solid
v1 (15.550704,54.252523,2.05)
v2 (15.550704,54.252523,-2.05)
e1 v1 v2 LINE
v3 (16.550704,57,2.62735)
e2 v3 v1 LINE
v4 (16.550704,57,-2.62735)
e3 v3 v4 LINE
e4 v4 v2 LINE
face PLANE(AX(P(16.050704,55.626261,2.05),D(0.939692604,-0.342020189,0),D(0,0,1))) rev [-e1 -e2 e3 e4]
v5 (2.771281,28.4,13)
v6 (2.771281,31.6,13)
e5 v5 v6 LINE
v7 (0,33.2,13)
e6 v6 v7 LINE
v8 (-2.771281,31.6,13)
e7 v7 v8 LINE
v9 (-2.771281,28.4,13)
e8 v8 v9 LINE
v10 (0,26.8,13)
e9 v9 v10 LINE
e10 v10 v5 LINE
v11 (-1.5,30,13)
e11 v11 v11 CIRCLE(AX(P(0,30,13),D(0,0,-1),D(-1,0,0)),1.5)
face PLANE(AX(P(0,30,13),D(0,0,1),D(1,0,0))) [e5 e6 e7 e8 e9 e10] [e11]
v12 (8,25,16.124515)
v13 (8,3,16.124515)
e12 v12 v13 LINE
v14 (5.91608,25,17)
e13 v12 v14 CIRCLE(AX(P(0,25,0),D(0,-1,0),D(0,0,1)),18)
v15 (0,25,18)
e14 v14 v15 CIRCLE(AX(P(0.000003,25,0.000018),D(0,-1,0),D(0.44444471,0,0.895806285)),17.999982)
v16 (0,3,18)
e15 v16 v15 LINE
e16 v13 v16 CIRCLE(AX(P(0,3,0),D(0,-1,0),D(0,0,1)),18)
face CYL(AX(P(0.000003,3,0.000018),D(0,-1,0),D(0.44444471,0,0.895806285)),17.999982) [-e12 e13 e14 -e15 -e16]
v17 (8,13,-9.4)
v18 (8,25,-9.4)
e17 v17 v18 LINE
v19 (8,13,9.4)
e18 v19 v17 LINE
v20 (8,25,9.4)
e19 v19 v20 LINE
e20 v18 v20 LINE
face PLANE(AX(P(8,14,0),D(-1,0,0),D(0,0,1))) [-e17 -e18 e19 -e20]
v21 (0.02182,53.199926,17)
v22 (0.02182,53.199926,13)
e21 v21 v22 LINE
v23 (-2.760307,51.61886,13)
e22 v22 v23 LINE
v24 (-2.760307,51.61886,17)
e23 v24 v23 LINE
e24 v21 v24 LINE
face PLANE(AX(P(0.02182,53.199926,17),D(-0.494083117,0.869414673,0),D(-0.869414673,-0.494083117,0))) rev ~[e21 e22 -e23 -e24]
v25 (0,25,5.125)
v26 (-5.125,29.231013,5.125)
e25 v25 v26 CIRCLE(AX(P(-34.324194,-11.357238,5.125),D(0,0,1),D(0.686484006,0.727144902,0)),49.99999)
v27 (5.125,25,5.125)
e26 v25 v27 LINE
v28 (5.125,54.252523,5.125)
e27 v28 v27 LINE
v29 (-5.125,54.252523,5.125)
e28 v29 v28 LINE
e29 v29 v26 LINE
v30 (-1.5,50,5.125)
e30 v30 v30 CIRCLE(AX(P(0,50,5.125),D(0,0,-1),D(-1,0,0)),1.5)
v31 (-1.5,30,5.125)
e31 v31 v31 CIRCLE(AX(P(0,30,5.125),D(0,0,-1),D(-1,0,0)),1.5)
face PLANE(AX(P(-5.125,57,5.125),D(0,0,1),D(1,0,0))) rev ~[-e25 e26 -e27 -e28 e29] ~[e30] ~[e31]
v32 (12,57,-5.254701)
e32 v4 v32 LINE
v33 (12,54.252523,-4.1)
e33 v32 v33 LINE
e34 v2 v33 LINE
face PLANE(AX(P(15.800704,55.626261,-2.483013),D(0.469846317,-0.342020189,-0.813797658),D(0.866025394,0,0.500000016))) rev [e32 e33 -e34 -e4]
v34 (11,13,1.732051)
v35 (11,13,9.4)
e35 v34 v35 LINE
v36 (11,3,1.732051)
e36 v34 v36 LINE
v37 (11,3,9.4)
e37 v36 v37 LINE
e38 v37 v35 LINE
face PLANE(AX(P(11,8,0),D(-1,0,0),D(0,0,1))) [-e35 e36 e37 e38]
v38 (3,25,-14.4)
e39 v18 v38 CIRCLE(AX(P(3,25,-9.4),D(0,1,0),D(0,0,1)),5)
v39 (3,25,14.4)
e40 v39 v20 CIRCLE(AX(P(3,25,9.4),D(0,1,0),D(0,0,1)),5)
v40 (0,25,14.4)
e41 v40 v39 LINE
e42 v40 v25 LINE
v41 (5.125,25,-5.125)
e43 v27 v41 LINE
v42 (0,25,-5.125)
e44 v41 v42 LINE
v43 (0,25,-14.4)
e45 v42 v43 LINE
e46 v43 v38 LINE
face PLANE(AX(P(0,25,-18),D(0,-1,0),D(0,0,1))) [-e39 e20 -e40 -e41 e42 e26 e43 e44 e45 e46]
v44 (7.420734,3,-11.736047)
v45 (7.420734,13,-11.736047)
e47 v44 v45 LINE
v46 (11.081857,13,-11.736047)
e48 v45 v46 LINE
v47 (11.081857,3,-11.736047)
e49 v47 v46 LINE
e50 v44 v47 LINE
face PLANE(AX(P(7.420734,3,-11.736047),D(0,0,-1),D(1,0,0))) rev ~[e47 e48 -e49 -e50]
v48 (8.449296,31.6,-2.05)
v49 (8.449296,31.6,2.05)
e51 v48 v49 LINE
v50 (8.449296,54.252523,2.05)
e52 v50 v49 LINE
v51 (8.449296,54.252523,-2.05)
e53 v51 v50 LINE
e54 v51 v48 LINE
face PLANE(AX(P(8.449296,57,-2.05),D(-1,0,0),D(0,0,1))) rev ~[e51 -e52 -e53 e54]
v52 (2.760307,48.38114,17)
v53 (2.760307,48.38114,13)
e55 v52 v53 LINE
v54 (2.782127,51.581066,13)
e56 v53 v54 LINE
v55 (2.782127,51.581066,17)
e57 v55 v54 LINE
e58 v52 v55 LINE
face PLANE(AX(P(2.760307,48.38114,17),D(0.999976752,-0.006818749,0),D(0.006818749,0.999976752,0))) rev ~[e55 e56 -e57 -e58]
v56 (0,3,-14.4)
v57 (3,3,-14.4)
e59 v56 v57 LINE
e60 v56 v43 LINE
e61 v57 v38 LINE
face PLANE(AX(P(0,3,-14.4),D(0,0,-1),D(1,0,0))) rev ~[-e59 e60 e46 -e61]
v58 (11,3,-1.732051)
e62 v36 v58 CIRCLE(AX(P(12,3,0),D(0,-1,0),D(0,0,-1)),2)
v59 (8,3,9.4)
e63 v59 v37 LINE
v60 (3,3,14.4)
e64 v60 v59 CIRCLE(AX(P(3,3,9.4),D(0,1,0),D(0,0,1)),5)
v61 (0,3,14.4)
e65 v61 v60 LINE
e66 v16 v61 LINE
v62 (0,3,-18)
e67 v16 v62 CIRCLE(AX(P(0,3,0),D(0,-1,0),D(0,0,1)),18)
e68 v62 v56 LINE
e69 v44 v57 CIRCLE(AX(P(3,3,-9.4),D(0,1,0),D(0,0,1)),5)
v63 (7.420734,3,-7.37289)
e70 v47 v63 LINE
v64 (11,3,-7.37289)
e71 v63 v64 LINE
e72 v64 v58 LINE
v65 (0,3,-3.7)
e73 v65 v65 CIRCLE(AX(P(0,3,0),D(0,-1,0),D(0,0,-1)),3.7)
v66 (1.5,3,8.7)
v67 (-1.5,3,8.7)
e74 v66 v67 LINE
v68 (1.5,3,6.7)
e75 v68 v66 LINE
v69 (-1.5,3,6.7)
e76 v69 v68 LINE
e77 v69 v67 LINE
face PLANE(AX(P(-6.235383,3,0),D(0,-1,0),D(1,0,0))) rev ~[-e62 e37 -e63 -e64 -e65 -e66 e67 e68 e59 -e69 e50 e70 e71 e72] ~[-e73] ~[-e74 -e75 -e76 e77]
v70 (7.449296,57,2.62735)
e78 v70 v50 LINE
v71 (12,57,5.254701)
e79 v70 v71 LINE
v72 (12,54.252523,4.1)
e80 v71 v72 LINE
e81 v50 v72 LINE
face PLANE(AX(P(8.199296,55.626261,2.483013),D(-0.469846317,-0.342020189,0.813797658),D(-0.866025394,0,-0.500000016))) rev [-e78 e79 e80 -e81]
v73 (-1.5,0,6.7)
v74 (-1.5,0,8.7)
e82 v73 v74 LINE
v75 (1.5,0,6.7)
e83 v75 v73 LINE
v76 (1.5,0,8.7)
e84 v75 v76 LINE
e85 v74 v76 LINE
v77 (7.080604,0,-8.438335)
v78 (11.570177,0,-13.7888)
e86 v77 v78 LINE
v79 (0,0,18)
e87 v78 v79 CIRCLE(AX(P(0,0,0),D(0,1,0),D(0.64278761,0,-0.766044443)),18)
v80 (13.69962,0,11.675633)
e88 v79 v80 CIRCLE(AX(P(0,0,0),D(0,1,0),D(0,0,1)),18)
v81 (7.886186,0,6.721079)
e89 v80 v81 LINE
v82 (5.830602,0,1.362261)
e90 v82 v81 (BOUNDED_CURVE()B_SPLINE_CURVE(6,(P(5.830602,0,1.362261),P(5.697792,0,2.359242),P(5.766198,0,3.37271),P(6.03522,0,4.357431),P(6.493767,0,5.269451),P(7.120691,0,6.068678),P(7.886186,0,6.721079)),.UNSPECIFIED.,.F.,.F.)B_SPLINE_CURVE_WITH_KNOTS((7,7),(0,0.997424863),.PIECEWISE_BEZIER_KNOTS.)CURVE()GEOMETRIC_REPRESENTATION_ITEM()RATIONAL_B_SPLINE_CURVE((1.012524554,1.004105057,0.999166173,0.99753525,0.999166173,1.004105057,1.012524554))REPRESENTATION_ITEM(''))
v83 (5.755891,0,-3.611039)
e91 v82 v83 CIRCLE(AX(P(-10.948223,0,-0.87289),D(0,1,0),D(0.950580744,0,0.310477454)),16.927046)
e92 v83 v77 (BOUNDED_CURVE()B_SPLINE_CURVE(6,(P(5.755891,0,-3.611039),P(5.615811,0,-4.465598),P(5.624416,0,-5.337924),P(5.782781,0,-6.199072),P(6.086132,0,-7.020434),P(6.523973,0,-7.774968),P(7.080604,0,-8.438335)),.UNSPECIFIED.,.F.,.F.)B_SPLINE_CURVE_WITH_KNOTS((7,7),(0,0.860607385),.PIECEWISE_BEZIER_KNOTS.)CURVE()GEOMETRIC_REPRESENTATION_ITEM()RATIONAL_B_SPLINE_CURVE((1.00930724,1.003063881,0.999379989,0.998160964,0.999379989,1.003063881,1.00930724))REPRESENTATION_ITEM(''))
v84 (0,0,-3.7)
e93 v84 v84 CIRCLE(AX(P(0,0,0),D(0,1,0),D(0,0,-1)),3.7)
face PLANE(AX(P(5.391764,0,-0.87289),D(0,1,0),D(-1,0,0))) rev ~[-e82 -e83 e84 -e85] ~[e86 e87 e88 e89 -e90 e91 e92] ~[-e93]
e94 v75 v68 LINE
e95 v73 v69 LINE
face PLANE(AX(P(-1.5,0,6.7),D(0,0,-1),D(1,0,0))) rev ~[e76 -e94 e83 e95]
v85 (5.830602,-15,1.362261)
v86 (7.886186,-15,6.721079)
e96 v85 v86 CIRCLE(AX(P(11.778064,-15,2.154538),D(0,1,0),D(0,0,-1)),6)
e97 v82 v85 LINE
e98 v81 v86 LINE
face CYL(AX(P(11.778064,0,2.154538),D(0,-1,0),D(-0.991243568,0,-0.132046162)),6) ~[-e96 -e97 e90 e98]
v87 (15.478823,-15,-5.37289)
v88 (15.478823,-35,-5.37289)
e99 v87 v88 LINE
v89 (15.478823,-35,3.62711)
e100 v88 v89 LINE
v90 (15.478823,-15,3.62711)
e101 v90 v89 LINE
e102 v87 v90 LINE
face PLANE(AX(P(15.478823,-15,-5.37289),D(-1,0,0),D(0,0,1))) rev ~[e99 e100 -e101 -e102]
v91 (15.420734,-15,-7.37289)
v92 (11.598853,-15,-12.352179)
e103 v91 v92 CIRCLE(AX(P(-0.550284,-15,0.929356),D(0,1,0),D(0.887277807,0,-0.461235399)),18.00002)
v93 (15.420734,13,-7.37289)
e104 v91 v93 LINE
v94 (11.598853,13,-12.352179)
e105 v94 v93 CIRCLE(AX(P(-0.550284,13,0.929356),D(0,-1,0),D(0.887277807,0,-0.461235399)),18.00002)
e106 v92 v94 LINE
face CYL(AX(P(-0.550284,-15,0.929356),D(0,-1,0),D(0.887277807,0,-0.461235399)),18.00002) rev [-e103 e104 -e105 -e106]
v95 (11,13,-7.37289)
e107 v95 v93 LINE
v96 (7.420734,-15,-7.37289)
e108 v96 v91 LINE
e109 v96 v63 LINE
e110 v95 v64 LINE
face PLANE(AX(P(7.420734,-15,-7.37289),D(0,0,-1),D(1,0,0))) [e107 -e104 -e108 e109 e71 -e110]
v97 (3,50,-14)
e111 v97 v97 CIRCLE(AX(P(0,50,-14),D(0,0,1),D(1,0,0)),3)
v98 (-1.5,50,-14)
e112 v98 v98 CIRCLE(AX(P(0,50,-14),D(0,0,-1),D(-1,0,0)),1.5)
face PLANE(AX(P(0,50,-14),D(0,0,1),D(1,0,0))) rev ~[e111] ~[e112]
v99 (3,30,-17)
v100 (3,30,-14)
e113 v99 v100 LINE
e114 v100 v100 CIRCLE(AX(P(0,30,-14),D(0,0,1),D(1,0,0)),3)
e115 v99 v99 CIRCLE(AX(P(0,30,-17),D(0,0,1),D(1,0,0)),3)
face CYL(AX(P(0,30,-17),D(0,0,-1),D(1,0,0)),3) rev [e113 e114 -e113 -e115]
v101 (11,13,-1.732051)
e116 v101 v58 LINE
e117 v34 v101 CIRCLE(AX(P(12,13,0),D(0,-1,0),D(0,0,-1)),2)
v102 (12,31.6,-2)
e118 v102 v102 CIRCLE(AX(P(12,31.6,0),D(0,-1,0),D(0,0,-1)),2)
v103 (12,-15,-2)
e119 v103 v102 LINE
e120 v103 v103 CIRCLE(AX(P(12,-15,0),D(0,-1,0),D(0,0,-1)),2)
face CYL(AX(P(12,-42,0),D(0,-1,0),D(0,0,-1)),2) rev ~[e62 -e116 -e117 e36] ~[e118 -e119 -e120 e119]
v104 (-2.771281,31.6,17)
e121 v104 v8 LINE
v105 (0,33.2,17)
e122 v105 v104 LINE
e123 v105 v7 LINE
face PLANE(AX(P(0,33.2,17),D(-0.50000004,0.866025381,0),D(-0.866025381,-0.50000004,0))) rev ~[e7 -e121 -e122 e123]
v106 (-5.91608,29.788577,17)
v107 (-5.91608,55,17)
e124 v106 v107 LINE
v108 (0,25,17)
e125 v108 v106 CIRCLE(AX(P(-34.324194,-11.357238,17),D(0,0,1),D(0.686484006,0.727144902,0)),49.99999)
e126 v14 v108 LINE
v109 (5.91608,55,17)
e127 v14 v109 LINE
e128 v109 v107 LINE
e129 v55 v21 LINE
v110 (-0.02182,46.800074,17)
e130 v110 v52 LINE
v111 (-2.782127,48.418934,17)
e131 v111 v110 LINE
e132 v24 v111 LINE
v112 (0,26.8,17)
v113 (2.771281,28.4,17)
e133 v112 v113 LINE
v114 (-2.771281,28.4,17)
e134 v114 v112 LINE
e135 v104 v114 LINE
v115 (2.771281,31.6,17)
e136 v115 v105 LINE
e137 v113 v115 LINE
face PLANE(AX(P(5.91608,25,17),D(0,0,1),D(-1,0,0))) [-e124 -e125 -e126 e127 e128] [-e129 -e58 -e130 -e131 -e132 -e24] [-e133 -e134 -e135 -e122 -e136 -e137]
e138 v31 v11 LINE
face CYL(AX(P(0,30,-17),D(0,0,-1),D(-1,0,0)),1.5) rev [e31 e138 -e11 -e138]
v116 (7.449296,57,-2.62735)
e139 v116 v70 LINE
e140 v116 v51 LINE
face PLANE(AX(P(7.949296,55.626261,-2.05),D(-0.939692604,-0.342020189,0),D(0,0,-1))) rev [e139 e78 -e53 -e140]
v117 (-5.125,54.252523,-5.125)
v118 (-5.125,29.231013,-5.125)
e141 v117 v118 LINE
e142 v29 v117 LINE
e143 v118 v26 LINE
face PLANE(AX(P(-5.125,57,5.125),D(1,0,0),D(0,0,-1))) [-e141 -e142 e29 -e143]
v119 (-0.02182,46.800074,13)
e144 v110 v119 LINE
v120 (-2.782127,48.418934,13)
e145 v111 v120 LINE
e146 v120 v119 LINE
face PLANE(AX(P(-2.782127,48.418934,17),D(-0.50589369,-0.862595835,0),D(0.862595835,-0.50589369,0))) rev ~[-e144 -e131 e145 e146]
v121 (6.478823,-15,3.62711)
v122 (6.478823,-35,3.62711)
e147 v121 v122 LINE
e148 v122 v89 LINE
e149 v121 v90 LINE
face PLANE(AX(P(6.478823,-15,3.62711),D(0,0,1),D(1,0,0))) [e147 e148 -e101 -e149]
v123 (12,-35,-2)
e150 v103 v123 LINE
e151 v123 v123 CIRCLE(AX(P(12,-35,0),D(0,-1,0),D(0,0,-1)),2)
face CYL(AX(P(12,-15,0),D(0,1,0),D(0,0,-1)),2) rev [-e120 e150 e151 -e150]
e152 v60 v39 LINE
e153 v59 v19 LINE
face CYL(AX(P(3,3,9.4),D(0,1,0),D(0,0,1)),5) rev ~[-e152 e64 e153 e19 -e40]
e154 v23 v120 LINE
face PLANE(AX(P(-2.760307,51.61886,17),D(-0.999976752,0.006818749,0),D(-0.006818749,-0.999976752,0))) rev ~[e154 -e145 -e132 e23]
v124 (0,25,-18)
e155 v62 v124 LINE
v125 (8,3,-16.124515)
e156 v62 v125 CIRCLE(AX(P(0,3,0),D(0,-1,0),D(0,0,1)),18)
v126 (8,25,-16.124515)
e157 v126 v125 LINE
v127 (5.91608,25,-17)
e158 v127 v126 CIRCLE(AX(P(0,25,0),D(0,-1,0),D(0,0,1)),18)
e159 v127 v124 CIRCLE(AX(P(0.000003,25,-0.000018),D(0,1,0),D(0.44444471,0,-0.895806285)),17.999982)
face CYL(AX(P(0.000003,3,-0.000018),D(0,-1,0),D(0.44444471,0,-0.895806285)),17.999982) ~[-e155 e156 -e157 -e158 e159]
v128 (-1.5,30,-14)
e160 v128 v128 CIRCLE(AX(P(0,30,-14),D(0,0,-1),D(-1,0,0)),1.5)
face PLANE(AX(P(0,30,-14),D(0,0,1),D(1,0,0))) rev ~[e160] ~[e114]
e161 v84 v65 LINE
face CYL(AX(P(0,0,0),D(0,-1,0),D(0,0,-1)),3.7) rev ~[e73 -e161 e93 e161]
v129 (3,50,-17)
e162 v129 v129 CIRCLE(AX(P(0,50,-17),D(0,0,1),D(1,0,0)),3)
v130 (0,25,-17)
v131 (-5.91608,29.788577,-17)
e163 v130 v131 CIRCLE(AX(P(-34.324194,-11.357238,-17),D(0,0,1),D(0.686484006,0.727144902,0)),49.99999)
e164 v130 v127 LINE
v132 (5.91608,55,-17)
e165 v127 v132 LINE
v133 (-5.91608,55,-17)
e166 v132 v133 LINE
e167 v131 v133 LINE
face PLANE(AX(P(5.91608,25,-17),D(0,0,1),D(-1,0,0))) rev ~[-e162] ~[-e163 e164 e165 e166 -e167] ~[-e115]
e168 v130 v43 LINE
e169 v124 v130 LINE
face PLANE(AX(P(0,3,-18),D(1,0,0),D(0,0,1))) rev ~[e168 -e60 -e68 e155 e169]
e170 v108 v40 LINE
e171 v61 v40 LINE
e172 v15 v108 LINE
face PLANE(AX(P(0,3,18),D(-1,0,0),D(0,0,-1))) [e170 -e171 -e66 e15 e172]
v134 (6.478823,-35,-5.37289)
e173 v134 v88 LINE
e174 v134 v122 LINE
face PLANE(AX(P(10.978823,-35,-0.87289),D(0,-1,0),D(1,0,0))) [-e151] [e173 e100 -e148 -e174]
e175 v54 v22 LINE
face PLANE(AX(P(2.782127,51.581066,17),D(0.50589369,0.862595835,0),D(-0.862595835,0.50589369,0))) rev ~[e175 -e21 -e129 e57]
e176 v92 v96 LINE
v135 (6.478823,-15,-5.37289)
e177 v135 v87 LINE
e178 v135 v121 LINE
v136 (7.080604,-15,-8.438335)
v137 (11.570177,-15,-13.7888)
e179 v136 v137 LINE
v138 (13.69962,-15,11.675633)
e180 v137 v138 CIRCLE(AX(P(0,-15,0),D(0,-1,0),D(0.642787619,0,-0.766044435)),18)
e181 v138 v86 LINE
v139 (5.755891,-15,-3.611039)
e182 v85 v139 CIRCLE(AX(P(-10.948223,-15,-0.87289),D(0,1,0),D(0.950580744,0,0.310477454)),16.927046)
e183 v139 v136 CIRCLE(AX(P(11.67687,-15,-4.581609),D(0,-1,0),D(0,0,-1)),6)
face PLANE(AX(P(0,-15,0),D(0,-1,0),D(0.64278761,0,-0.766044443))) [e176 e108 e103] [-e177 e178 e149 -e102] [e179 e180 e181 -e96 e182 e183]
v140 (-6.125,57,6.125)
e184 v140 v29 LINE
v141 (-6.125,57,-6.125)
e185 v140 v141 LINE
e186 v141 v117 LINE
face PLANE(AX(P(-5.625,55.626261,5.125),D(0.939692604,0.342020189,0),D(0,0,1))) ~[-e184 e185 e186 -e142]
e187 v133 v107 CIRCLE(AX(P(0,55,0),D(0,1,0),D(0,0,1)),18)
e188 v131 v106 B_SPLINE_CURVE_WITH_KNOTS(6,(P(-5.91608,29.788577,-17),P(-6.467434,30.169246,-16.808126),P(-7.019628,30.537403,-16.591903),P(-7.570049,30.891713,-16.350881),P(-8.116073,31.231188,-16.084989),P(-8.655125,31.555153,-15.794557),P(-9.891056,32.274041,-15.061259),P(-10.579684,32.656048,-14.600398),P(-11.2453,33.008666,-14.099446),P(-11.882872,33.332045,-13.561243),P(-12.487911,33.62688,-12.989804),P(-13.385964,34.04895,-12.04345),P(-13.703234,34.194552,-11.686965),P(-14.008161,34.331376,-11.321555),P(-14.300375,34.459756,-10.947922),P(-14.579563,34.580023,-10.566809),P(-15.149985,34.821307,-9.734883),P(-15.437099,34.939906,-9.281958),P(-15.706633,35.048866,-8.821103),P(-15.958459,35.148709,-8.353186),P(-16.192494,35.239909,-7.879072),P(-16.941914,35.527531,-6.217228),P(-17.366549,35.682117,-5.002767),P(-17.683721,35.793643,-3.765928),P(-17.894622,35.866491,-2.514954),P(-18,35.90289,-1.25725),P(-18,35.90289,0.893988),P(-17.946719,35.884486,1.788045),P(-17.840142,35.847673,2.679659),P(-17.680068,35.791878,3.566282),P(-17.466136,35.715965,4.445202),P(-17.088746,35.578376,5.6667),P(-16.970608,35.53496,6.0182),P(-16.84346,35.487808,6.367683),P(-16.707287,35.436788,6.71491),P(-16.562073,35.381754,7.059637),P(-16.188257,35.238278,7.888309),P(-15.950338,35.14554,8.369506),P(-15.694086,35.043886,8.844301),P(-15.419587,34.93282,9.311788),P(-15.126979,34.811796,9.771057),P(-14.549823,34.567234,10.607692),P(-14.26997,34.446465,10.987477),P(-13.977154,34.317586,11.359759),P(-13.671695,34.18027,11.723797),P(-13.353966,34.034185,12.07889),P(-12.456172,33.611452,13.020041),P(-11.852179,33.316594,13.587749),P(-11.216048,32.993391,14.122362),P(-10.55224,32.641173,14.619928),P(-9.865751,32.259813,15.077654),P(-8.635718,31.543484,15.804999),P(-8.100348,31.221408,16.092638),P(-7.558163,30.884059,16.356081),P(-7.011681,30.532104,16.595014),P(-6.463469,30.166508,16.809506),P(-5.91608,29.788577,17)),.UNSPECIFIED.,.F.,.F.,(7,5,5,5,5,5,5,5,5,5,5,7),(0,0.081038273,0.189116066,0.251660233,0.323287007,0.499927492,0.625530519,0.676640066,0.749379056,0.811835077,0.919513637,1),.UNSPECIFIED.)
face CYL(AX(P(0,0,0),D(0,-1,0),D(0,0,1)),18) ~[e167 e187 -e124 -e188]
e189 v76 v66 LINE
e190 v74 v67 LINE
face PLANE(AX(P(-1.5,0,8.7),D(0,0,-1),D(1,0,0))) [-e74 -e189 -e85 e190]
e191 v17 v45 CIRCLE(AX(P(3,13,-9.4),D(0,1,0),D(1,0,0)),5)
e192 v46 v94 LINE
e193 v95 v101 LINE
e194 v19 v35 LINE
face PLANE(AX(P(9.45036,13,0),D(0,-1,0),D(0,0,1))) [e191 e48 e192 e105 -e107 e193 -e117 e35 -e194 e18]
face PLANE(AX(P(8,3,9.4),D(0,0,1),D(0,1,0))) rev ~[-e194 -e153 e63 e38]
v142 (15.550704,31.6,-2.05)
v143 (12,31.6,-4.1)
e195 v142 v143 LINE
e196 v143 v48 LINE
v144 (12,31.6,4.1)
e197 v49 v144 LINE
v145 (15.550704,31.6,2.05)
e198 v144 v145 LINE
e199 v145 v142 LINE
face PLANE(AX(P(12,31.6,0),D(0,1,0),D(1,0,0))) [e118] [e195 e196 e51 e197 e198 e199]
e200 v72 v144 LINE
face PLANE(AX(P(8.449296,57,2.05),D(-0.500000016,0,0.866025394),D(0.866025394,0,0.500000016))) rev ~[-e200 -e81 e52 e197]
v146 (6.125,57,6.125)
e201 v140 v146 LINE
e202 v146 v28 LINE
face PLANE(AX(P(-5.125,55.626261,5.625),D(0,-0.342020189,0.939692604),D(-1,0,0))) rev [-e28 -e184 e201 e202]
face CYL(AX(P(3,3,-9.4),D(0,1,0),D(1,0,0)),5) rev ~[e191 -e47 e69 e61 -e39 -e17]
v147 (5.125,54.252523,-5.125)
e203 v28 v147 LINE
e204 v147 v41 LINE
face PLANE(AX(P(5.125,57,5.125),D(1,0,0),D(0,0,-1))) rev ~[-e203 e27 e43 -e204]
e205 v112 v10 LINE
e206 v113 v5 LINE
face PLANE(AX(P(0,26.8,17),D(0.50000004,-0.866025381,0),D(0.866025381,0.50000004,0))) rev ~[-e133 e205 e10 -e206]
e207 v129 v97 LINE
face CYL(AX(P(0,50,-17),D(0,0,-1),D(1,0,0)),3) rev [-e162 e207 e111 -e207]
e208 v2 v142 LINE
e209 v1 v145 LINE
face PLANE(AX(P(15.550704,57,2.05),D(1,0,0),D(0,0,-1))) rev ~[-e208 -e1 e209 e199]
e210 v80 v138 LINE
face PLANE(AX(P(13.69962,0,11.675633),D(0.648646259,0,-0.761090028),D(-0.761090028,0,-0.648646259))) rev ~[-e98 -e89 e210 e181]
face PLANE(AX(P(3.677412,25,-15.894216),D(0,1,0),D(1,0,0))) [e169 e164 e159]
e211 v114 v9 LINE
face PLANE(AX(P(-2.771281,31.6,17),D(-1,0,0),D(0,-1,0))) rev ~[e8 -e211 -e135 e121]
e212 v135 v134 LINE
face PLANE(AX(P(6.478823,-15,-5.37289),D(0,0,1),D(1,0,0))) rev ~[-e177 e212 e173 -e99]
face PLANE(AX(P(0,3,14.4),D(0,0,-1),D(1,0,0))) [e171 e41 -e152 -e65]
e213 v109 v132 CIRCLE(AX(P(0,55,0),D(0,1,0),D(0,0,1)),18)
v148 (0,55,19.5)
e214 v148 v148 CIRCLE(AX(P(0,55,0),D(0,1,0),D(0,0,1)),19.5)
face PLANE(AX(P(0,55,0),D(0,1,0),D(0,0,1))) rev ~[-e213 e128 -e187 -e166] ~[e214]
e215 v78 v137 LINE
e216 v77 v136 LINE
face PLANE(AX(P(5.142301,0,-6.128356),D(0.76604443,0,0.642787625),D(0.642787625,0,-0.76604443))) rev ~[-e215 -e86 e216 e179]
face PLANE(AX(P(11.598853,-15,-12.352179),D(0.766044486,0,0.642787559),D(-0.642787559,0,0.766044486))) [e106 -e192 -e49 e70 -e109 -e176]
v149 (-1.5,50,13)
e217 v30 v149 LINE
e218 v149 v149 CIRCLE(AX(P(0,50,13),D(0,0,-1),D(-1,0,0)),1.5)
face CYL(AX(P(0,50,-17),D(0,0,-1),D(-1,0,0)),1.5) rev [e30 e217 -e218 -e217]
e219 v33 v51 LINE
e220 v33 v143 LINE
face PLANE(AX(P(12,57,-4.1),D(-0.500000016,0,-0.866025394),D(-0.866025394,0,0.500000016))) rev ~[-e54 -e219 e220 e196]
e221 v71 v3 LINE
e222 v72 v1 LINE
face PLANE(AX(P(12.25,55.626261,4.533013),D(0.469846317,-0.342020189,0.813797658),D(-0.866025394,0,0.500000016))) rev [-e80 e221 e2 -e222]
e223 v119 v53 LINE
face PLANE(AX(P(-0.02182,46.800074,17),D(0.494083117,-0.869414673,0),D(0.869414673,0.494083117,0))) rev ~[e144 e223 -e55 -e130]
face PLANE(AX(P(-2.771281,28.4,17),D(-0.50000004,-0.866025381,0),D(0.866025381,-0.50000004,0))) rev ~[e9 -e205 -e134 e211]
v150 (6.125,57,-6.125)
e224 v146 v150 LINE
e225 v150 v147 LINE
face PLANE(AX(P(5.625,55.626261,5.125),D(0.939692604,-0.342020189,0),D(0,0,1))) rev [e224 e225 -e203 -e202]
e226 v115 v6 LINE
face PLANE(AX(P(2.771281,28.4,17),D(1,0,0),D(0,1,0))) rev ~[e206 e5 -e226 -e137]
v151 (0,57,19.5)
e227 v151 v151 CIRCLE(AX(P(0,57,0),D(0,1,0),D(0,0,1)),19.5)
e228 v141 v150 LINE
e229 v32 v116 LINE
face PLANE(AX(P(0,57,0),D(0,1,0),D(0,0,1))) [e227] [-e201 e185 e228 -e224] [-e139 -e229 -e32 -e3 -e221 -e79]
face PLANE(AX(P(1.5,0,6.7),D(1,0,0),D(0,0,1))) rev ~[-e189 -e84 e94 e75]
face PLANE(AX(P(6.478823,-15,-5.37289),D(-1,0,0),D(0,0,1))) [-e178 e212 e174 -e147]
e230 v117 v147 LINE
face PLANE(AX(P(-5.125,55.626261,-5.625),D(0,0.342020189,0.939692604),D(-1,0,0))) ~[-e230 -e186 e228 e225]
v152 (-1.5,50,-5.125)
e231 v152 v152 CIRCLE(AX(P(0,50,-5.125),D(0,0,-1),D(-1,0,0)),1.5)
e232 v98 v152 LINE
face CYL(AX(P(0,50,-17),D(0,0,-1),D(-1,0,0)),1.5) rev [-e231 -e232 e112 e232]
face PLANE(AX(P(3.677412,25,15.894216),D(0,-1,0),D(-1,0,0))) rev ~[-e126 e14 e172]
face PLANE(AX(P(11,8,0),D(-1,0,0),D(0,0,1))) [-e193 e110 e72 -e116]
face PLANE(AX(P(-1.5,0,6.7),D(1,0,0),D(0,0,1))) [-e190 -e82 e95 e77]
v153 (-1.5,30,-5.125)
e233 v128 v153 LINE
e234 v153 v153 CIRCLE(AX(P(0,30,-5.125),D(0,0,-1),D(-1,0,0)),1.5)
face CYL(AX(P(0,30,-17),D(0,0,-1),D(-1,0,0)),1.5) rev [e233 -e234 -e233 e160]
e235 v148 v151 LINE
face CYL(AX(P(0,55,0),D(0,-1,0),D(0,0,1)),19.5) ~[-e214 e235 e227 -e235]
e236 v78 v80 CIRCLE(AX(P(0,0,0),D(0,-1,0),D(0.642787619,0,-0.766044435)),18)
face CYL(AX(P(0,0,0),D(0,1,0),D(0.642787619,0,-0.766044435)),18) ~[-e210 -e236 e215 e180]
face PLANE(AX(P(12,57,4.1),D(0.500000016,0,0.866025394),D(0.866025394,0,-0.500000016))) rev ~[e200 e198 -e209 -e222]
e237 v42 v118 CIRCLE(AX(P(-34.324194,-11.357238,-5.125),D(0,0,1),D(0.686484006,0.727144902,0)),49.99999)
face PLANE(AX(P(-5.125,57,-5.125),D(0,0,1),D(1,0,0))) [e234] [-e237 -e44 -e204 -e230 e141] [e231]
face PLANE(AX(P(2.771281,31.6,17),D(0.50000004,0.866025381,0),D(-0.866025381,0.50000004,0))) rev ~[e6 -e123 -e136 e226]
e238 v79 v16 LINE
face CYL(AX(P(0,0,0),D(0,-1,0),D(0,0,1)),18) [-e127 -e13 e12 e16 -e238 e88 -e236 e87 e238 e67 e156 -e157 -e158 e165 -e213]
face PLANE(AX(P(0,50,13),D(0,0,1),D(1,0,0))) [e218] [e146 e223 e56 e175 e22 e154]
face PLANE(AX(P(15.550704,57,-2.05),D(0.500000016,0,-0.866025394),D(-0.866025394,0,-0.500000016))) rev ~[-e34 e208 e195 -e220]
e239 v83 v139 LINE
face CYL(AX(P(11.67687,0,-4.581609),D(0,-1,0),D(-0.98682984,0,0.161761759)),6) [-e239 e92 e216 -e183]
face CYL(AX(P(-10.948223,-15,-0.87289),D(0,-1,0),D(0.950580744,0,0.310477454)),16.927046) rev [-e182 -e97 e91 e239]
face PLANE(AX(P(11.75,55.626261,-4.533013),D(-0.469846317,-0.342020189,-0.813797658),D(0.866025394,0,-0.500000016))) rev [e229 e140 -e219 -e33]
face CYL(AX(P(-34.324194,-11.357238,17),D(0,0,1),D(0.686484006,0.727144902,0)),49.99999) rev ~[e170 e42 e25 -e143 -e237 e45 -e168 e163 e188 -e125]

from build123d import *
from build123d.topology import SkipClean

# Parameters (mm, degrees)
SKETCH_1_R          = 18
EXTRUDE_1_DEPTH     = 55
SKETCH_2_R          = 19.5
EXTRUDE_2_DEPTH     = 2
SKETCH_3_W          = 10.25
SKETCH_3_H          = 10.25
CUT_EXTRUDE_1_DEPTH = 40
EXTRUDE_3_DEPTH     = 15
SKETCH1_R           = 18
BOSS_EXTRUDE1_DEPTH = 20
SKETCH3_R           = 18
BOSS_EXTRUDE2_DEPTH = 7
SKETCH4_W           = 10.2
SKETCH4_H           = 10.2
CUT_EXTRUDE2_DEPTH  = 27
CUT_EXTRUDE4_DEPTH  = 25
BOSS_EXTRUDE3_DEPTH = 3
SKETCH9_W           = 36
SKETCH9_H           = 22
CUT_EXTRUDE5_DEPTH  = 8
SKETCH10_R          = 3.7
SKETCH10_W          = 3
SKETCH10_H          = 2
CUT_EXTRUDE6_DEPTH  = 10
SKETCH11_R          = 2
CUT_EXTRUDE7_DEPTH  = 102
SKETCH15_R          = 18
CUT_EXTRUDE9_DEPTH  = 27
CUT_EXTRUDE11_DEPTH = 30
SKETCH18_R          = 1.5
CUT_EXTRUDE12_DEPTH = 71.437916
SKETCH19_R          = 3
CUT_EXTRUDE13_DEPTH = 3
BOSS_EXTRUDE5_DEPTH = 22
CUT_EXTRUDE16_DEPTH = 4
CUT_EXTRUDE17_DEPTH = 25.4
CUT_EXTRUDE18_DEPTH = 71.437916
FILLET2_R           = 5
SKETCH30_W          = 18.8
SKETCH30_H          = 10
CUT_EXTRUDE20_DEPTH = 3
CHAMFER1_SIZE       = 1
CHAMFER1_SIZE2      = 2.747477
CHAMFER2_SIZE       = 1
CHAMFER2_SIZE2      = 2.747477
SKETCH37_W          = 9
SKETCH37_H          = 9
SKETCH37_R          = 2
BOSS_EXTRUDE7_DEPTH = 20
CUT_EXTRUDE22_DEPTH = 15
CUT_EXTRUDE23_REACH = 79.101
SKETCH40_W          = 4.363156
SKETCH40_H          = 4.363157
CUT_EXTRUDE24_DEPTH = 10
FILLET7_R           = 6


with BuildPart() as part:
    # Эскиз1 → Бобышка-Вытянуть1 (new body)
    with BuildSketch(Plane(origin=(0, 0, 0), x_dir=(1, 0, 0), z_dir=(0, 1, 0))):
        with Locations(Location((0, 0, 0), (0, 0, 270))):
            Circle(SKETCH_1_R)
    extrude(amount=EXTRUDE_1_DEPTH)

    # Эскиз2 → Бобышка-Вытянуть2 (add)
    with BuildSketch(Plane(origin=(0, 55, 0), x_dir=(1, 0, 0), z_dir=(0, 1, 0))):
        with Locations(Location((0, 0, 0), (0, 0, 270))):
            Circle(SKETCH_2_R)
    extrude(amount=EXTRUDE_2_DEPTH)

    # Эскиз3 → Вырез-Вытянуть1 (cut)
    with BuildSketch(Plane(origin=(0, 57, 0), x_dir=(1, 0, 0), z_dir=(0, 1, 0))):
        Rectangle(SKETCH_3_W, SKETCH_3_H)
    extrude(amount=-CUT_EXTRUDE_1_DEPTH, mode=Mode.SUBTRACT)

    # Эскиз4 → Бобышка-Вытянуть3 (add)
    with BuildSketch(Plane.XZ):
        with BuildLine():
            Line((5.142301, -6.128356), (11.570177, -13.7888))
            ThreePointArc((11.570177, -13.7888), (17.937391, -1.5), (13.69962, 11.675633))
            Line((13.69962, 11.675633), (5.142301, 4.382576))
            Line((5.142301, 4.382576), (5.142301, -6.128356))
        make_face()
    extrude(amount=EXTRUDE_3_DEPTH)

    # Sketch1 → Boss-Extrude1 (add)
    with BuildSketch(Plane.XZ.offset(15)):
        with Locations(Location((0, 0, 0), (0, 0, 270))):
            Circle(SKETCH1_R)
    extrude(amount=BOSS_EXTRUDE1_DEPTH)

    # Sketch3 → Boss-Extrude2 (add)
    with BuildSketch(Plane.XZ.offset(35)):
        with Locations(Location((0, 0, 0), (0, 0, 270))):
            Circle(SKETCH3_R)
    extrude(amount=BOSS_EXTRUDE2_DEPTH)

    # Sketch4 → Cut-Extrude2 (cut)
    with BuildSketch(Plane.XZ.offset(42)):
        Rectangle(SKETCH4_W, SKETCH4_H)
    extrude(amount=-CUT_EXTRUDE2_DEPTH, mode=Mode.SUBTRACT)

    # Sketch6 → Cut-Extrude4 (cut)
    with BuildSketch(Plane.XZ):
        with BuildLine():
            Line((0, 18), (0, -18))
            ThreePointArc((0, -18), (-18, 0), (0, 18))
        make_face()
    extrude(amount=-CUT_EXTRUDE4_DEPTH, mode=Mode.SUBTRACT)

    # Sketch8 → Boss-Extrude3 (add)
    with BuildSketch(Plane.XZ):
        with BuildLine():
            Line((0, -18), (0, 18))
            ThreePointArc((0, 18), (-18, 0), (0, -18))
        make_face()
    extrude(amount=-BOSS_EXTRUDE3_DEPTH)

    # Sketch9 → Cut-Extrude5 (cut)
    with BuildSketch(Plane.ZY):
        with Locations((0, 14)):
            Rectangle(SKETCH9_W, SKETCH9_H)
    extrude(amount=-CUT_EXTRUDE5_DEPTH, mode=Mode.SUBTRACT)

    # Sketch10 → Cut-Extrude6 (cut)
    with BuildSketch(Plane.XZ):
        with Locations(Location((0, 0, 0), (0, 0, 270))):
            Circle(SKETCH10_R)
        with Locations((0, 7.7)):
            Rectangle(SKETCH10_W, SKETCH10_H)
    extrude(amount=-CUT_EXTRUDE6_DEPTH, mode=Mode.SUBTRACT)

    # Sketch11 → Cut-Extrude7 (cut)
    with BuildSketch(Plane.XZ.offset(42)):
        with Locations(Location((12, 0, 0), (0, 0, 270))):
            Circle(SKETCH11_R)
    extrude(amount=-CUT_EXTRUDE7_DEPTH, mode=Mode.SUBTRACT)

    # Sketch15 → Cut-Extrude9 (cut)
    with BuildSketch(Plane.XZ.offset(42)):
        with Locations(Location((0, 0, 0), (0, 0, 310))):
            Circle(SKETCH15_R)
    extrude(amount=-CUT_EXTRUDE9_DEPTH, mode=Mode.SUBTRACT)

    # Sketch17 → Cut-Extrude11 (cut)
    with BuildSketch(Plane.XZ.offset(-25)):
        with BuildLine():
            Line((5.91608, -17), (-5.91608, -17))
            ThreePointArc((-5.91608, -17), (0, -18), (5.91608, -17))
        make_face()
        with BuildLine():
            Line((5.91608, 17), (-5.91608, 17))
            ThreePointArc((-5.91608, 17), (0, 18), (5.91608, 17))
        make_face()
    extrude(amount=-CUT_EXTRUDE11_DEPTH, mode=Mode.SUBTRACT)

    # Sketch18 → Cut-Extrude12 (cut, through all)
    with BuildSketch(Plane.XY.offset(-17)):
        with Locations(Location((0, 30, 0), (0, 0, 180))):
            Circle(SKETCH18_R)
        with Locations(Location((0, 50, 0), (0, 0, 180))):
            Circle(SKETCH18_R)
    extrude(amount=CUT_EXTRUDE12_DEPTH, mode=Mode.SUBTRACT)

    # Sketch19 → Cut-Extrude13 (cut)
    with BuildSketch(Plane.XY.offset(-17)):
        with Locations((0, 30)):
            Circle(SKETCH19_R)
        with Locations((0, 50)):
            Circle(SKETCH19_R)
    extrude(amount=CUT_EXTRUDE13_DEPTH, mode=Mode.SUBTRACT)

    # Sketch23 → Boss-Extrude5 (add)
    with BuildSketch(Plane(origin=(0, 3, 0), x_dir=(1, 0, 0), z_dir=(0, 1, 0))):
        with BuildLine():
            Line((0, -14.4), (8, -14.4))
            Line((8, -14.4), (8, -16.124515))
            ThreePointArc((8, -16.124515), (4.10845, -17.524858), (0, -18))
            Line((0, -18), (0, -14.4))
        make_face()
        with BuildLine():
            Line((0, 14.4), (8, 14.4))
            Line((8, 14.4), (8, 16.124515))
            ThreePointArc((8, 16.124515), (4.10845, 17.524858), (0, 18))
            Line((0, 18), (0, 14.4))
        make_face()
    extrude(amount=BOSS_EXTRUDE5_DEPTH)

    # Sketch25 → Cut-Extrude16 (cut)
    with BuildSketch(Plane.XY.offset(17)):
        Polygon((2.771281, 28.4), (2.771281, 31.6), (0, 33.2), (-2.771281, 31.6), (-2.771281, 28.4), (0, 26.8), align=None)
        Polygon((-2.782127, 48.418934), (-0.02182, 46.800074), (2.760307, 48.38114), (2.782127, 51.581066), (0.02182, 53.199926), (-2.760307, 51.61886), align=None)
    extrude(amount=-CUT_EXTRUDE16_DEPTH, mode=Mode.SUBTRACT)

    # Sketch26 → Cut-Extrude17 (cut)
    with BuildSketch(Plane(origin=(0, 57, 0), x_dir=(1, 0, 0), z_dir=(0, 1, 0))):
        Polygon((8.449296, -2.05), (12, -4.1), (15.550704, -2.05), (15.550704, 2.05), (12, 4.1), (8.449296, 2.05), align=None)
    extrude(amount=-CUT_EXTRUDE17_DEPTH, mode=Mode.SUBTRACT)

    # Sketch27 → Cut-Extrude18 (cut, through all)
    with BuildSketch(Plane.XY.offset(17)):
        with BuildLine():
            Line((-20, 36.547005), (-20, 25))
            Line((-20, 25), (0, 25))
            ThreePointArc((0, 25), (-9.324199, 31.944024), (-20, 36.547005))
        make_face()
    extrude(amount=-CUT_EXTRUDE18_DEPTH, mode=Mode.SUBTRACT)

    # Fillet2
    fillet2_edges = [part.edges().sort_by_distance(p)[0] for p in [
        (8, 14, -14.4),
        (8, 14, 14.4),
    ]]
    fillet(fillet2_edges, radius=FILLET2_R)

    # Sketch30 → Cut-Extrude20 (cut)
    with BuildSketch(Plane.ZY.offset(-8)):
        with Locations((0, 8)):
            Rectangle(SKETCH30_W, SKETCH30_H)
    extrude(amount=-CUT_EXTRUDE20_DEPTH, mode=Mode.SUBTRACT)

    # Chamfer1
    chamfer1_edges = [part.edges().sort_by_distance(p)[0] for p in [
        (5.125, 57, 0),
        (0, 57, -5.125),
        (-5.125, 57, 0),
        (0, 57, 5.125),
    ]]
    chamfer1_side = [part.faces().sort_by_distance(p)[0] for p in [
        (0, 57, -18.948457),
    ]]
    chamfer(chamfer1_edges, length=CHAMFER1_SIZE, length2=CHAMFER1_SIZE2, reference=chamfer1_side[0])

    # Chamfer2
    chamfer2_edges = [part.edges().sort_by_distance(p)[0] for p in [
        (8.449296, 57, 0),
        (10.224648, 57, 3.075),
        (13.775352, 57, 3.075),
        (15.550704, 57, 0),
        (13.775352, 57, -3.075),
        (10.224648, 57, -3.075),
    ]]
    chamfer2_side = [part.faces().sort_by_distance(p)[0] for p in [
        (6.676543, 57, 0),
    ]]
    chamfer(chamfer2_edges, length=CHAMFER2_SIZE, length2=CHAMFER2_SIZE2, reference=chamfer2_side[0])

    # Sketch37 → Boss-Extrude7 (add)
    with SkipClean():  # the faces are left unmerged after this step: merging them gives an invalid solid
        with BuildSketch(Plane.XZ.offset(15)):
            with Locations((10.978823, -0.87289)):
                Rectangle(SKETCH37_W, SKETCH37_H)
            with Locations(Location((12, 0, 0), (0, 0, 270))):
                Circle(SKETCH37_R, mode=Mode.SUBTRACT)
        extrude(amount=BOSS_EXTRUDE7_DEPTH)

    # Sketch38 → Cut-Extrude22 (cut)
    with SkipClean():  # the faces are left unmerged after this step: merging them gives an invalid solid
        with BuildSketch(Plane.XZ.offset(15)):
            with BuildLine():
                Line((5.142301, -6.128356), (5.142301, 4.382576))
                ThreePointArc((5.142301, 4.382576), (5.978823, -0.87289), (5.142301, -6.128356))
            make_face()
        extrude(amount=-CUT_EXTRUDE22_DEPTH, mode=Mode.SUBTRACT)

    # Cut-Extrude23: up to this face of the body (flat: up to its plane)
    cut_extrude23_end = Plane(part.part.faces().sort_by_distance((9.45036, 13, 0))[0])
    # Sketch39 → Cut-Extrude23 (cut, up to the picked face)
    with BuildSketch(Plane.XZ.offset(15), mode=Mode.PRIVATE) as cut_extrude23_sk1:
        with BuildLine():
            Line((7.420734, -7.37289), (15.420734, -7.37289))
            ThreePointArc((15.420734, -7.37289), (13.728515, -10.030416), (11.598853, -12.352179))
            Line((11.598853, -12.352179), (7.420734, -7.37289))
        make_face()
    cut_extrude23_tool1 = split(extrude(cut_extrude23_sk1.sketch, amount=-CUT_EXTRUDE23_REACH, mode=Mode.PRIVATE), bisect_by=cut_extrude23_end, keep=Keep.BOTH, mode=Mode.PRIVATE)
    add(cut_extrude23_tool1.solids().sort_by(Axis((11.596211, -15, -9.081847), (0, 1, 0)))[0], mode=Mode.SUBTRACT)

    # Sketch40 → Cut-Extrude24 (cut)
    with SkipClean():  # the faces are left unmerged after this step: merging them gives an invalid solid
        with BuildSketch(Plane(origin=(0, 3, 0), x_dir=(1, 0, 0), z_dir=(0, 1, 0))):
            with Locations((9.602312, 9.554468)):
                Rectangle(SKETCH40_W, SKETCH40_H)
        extrude(amount=CUT_EXTRUDE24_DEPTH, mode=Mode.SUBTRACT)

    # Fillet7
    fillet7_edges = [part.edges().sort_by_distance(p)[0] for p in [
        (5.142301, -7.5, 4.382576),
        (5.142301, -7.5, -6.128356),
    ]]
    fillet(fillet7_edges, radius=FILLET7_R)


solid = part.part
